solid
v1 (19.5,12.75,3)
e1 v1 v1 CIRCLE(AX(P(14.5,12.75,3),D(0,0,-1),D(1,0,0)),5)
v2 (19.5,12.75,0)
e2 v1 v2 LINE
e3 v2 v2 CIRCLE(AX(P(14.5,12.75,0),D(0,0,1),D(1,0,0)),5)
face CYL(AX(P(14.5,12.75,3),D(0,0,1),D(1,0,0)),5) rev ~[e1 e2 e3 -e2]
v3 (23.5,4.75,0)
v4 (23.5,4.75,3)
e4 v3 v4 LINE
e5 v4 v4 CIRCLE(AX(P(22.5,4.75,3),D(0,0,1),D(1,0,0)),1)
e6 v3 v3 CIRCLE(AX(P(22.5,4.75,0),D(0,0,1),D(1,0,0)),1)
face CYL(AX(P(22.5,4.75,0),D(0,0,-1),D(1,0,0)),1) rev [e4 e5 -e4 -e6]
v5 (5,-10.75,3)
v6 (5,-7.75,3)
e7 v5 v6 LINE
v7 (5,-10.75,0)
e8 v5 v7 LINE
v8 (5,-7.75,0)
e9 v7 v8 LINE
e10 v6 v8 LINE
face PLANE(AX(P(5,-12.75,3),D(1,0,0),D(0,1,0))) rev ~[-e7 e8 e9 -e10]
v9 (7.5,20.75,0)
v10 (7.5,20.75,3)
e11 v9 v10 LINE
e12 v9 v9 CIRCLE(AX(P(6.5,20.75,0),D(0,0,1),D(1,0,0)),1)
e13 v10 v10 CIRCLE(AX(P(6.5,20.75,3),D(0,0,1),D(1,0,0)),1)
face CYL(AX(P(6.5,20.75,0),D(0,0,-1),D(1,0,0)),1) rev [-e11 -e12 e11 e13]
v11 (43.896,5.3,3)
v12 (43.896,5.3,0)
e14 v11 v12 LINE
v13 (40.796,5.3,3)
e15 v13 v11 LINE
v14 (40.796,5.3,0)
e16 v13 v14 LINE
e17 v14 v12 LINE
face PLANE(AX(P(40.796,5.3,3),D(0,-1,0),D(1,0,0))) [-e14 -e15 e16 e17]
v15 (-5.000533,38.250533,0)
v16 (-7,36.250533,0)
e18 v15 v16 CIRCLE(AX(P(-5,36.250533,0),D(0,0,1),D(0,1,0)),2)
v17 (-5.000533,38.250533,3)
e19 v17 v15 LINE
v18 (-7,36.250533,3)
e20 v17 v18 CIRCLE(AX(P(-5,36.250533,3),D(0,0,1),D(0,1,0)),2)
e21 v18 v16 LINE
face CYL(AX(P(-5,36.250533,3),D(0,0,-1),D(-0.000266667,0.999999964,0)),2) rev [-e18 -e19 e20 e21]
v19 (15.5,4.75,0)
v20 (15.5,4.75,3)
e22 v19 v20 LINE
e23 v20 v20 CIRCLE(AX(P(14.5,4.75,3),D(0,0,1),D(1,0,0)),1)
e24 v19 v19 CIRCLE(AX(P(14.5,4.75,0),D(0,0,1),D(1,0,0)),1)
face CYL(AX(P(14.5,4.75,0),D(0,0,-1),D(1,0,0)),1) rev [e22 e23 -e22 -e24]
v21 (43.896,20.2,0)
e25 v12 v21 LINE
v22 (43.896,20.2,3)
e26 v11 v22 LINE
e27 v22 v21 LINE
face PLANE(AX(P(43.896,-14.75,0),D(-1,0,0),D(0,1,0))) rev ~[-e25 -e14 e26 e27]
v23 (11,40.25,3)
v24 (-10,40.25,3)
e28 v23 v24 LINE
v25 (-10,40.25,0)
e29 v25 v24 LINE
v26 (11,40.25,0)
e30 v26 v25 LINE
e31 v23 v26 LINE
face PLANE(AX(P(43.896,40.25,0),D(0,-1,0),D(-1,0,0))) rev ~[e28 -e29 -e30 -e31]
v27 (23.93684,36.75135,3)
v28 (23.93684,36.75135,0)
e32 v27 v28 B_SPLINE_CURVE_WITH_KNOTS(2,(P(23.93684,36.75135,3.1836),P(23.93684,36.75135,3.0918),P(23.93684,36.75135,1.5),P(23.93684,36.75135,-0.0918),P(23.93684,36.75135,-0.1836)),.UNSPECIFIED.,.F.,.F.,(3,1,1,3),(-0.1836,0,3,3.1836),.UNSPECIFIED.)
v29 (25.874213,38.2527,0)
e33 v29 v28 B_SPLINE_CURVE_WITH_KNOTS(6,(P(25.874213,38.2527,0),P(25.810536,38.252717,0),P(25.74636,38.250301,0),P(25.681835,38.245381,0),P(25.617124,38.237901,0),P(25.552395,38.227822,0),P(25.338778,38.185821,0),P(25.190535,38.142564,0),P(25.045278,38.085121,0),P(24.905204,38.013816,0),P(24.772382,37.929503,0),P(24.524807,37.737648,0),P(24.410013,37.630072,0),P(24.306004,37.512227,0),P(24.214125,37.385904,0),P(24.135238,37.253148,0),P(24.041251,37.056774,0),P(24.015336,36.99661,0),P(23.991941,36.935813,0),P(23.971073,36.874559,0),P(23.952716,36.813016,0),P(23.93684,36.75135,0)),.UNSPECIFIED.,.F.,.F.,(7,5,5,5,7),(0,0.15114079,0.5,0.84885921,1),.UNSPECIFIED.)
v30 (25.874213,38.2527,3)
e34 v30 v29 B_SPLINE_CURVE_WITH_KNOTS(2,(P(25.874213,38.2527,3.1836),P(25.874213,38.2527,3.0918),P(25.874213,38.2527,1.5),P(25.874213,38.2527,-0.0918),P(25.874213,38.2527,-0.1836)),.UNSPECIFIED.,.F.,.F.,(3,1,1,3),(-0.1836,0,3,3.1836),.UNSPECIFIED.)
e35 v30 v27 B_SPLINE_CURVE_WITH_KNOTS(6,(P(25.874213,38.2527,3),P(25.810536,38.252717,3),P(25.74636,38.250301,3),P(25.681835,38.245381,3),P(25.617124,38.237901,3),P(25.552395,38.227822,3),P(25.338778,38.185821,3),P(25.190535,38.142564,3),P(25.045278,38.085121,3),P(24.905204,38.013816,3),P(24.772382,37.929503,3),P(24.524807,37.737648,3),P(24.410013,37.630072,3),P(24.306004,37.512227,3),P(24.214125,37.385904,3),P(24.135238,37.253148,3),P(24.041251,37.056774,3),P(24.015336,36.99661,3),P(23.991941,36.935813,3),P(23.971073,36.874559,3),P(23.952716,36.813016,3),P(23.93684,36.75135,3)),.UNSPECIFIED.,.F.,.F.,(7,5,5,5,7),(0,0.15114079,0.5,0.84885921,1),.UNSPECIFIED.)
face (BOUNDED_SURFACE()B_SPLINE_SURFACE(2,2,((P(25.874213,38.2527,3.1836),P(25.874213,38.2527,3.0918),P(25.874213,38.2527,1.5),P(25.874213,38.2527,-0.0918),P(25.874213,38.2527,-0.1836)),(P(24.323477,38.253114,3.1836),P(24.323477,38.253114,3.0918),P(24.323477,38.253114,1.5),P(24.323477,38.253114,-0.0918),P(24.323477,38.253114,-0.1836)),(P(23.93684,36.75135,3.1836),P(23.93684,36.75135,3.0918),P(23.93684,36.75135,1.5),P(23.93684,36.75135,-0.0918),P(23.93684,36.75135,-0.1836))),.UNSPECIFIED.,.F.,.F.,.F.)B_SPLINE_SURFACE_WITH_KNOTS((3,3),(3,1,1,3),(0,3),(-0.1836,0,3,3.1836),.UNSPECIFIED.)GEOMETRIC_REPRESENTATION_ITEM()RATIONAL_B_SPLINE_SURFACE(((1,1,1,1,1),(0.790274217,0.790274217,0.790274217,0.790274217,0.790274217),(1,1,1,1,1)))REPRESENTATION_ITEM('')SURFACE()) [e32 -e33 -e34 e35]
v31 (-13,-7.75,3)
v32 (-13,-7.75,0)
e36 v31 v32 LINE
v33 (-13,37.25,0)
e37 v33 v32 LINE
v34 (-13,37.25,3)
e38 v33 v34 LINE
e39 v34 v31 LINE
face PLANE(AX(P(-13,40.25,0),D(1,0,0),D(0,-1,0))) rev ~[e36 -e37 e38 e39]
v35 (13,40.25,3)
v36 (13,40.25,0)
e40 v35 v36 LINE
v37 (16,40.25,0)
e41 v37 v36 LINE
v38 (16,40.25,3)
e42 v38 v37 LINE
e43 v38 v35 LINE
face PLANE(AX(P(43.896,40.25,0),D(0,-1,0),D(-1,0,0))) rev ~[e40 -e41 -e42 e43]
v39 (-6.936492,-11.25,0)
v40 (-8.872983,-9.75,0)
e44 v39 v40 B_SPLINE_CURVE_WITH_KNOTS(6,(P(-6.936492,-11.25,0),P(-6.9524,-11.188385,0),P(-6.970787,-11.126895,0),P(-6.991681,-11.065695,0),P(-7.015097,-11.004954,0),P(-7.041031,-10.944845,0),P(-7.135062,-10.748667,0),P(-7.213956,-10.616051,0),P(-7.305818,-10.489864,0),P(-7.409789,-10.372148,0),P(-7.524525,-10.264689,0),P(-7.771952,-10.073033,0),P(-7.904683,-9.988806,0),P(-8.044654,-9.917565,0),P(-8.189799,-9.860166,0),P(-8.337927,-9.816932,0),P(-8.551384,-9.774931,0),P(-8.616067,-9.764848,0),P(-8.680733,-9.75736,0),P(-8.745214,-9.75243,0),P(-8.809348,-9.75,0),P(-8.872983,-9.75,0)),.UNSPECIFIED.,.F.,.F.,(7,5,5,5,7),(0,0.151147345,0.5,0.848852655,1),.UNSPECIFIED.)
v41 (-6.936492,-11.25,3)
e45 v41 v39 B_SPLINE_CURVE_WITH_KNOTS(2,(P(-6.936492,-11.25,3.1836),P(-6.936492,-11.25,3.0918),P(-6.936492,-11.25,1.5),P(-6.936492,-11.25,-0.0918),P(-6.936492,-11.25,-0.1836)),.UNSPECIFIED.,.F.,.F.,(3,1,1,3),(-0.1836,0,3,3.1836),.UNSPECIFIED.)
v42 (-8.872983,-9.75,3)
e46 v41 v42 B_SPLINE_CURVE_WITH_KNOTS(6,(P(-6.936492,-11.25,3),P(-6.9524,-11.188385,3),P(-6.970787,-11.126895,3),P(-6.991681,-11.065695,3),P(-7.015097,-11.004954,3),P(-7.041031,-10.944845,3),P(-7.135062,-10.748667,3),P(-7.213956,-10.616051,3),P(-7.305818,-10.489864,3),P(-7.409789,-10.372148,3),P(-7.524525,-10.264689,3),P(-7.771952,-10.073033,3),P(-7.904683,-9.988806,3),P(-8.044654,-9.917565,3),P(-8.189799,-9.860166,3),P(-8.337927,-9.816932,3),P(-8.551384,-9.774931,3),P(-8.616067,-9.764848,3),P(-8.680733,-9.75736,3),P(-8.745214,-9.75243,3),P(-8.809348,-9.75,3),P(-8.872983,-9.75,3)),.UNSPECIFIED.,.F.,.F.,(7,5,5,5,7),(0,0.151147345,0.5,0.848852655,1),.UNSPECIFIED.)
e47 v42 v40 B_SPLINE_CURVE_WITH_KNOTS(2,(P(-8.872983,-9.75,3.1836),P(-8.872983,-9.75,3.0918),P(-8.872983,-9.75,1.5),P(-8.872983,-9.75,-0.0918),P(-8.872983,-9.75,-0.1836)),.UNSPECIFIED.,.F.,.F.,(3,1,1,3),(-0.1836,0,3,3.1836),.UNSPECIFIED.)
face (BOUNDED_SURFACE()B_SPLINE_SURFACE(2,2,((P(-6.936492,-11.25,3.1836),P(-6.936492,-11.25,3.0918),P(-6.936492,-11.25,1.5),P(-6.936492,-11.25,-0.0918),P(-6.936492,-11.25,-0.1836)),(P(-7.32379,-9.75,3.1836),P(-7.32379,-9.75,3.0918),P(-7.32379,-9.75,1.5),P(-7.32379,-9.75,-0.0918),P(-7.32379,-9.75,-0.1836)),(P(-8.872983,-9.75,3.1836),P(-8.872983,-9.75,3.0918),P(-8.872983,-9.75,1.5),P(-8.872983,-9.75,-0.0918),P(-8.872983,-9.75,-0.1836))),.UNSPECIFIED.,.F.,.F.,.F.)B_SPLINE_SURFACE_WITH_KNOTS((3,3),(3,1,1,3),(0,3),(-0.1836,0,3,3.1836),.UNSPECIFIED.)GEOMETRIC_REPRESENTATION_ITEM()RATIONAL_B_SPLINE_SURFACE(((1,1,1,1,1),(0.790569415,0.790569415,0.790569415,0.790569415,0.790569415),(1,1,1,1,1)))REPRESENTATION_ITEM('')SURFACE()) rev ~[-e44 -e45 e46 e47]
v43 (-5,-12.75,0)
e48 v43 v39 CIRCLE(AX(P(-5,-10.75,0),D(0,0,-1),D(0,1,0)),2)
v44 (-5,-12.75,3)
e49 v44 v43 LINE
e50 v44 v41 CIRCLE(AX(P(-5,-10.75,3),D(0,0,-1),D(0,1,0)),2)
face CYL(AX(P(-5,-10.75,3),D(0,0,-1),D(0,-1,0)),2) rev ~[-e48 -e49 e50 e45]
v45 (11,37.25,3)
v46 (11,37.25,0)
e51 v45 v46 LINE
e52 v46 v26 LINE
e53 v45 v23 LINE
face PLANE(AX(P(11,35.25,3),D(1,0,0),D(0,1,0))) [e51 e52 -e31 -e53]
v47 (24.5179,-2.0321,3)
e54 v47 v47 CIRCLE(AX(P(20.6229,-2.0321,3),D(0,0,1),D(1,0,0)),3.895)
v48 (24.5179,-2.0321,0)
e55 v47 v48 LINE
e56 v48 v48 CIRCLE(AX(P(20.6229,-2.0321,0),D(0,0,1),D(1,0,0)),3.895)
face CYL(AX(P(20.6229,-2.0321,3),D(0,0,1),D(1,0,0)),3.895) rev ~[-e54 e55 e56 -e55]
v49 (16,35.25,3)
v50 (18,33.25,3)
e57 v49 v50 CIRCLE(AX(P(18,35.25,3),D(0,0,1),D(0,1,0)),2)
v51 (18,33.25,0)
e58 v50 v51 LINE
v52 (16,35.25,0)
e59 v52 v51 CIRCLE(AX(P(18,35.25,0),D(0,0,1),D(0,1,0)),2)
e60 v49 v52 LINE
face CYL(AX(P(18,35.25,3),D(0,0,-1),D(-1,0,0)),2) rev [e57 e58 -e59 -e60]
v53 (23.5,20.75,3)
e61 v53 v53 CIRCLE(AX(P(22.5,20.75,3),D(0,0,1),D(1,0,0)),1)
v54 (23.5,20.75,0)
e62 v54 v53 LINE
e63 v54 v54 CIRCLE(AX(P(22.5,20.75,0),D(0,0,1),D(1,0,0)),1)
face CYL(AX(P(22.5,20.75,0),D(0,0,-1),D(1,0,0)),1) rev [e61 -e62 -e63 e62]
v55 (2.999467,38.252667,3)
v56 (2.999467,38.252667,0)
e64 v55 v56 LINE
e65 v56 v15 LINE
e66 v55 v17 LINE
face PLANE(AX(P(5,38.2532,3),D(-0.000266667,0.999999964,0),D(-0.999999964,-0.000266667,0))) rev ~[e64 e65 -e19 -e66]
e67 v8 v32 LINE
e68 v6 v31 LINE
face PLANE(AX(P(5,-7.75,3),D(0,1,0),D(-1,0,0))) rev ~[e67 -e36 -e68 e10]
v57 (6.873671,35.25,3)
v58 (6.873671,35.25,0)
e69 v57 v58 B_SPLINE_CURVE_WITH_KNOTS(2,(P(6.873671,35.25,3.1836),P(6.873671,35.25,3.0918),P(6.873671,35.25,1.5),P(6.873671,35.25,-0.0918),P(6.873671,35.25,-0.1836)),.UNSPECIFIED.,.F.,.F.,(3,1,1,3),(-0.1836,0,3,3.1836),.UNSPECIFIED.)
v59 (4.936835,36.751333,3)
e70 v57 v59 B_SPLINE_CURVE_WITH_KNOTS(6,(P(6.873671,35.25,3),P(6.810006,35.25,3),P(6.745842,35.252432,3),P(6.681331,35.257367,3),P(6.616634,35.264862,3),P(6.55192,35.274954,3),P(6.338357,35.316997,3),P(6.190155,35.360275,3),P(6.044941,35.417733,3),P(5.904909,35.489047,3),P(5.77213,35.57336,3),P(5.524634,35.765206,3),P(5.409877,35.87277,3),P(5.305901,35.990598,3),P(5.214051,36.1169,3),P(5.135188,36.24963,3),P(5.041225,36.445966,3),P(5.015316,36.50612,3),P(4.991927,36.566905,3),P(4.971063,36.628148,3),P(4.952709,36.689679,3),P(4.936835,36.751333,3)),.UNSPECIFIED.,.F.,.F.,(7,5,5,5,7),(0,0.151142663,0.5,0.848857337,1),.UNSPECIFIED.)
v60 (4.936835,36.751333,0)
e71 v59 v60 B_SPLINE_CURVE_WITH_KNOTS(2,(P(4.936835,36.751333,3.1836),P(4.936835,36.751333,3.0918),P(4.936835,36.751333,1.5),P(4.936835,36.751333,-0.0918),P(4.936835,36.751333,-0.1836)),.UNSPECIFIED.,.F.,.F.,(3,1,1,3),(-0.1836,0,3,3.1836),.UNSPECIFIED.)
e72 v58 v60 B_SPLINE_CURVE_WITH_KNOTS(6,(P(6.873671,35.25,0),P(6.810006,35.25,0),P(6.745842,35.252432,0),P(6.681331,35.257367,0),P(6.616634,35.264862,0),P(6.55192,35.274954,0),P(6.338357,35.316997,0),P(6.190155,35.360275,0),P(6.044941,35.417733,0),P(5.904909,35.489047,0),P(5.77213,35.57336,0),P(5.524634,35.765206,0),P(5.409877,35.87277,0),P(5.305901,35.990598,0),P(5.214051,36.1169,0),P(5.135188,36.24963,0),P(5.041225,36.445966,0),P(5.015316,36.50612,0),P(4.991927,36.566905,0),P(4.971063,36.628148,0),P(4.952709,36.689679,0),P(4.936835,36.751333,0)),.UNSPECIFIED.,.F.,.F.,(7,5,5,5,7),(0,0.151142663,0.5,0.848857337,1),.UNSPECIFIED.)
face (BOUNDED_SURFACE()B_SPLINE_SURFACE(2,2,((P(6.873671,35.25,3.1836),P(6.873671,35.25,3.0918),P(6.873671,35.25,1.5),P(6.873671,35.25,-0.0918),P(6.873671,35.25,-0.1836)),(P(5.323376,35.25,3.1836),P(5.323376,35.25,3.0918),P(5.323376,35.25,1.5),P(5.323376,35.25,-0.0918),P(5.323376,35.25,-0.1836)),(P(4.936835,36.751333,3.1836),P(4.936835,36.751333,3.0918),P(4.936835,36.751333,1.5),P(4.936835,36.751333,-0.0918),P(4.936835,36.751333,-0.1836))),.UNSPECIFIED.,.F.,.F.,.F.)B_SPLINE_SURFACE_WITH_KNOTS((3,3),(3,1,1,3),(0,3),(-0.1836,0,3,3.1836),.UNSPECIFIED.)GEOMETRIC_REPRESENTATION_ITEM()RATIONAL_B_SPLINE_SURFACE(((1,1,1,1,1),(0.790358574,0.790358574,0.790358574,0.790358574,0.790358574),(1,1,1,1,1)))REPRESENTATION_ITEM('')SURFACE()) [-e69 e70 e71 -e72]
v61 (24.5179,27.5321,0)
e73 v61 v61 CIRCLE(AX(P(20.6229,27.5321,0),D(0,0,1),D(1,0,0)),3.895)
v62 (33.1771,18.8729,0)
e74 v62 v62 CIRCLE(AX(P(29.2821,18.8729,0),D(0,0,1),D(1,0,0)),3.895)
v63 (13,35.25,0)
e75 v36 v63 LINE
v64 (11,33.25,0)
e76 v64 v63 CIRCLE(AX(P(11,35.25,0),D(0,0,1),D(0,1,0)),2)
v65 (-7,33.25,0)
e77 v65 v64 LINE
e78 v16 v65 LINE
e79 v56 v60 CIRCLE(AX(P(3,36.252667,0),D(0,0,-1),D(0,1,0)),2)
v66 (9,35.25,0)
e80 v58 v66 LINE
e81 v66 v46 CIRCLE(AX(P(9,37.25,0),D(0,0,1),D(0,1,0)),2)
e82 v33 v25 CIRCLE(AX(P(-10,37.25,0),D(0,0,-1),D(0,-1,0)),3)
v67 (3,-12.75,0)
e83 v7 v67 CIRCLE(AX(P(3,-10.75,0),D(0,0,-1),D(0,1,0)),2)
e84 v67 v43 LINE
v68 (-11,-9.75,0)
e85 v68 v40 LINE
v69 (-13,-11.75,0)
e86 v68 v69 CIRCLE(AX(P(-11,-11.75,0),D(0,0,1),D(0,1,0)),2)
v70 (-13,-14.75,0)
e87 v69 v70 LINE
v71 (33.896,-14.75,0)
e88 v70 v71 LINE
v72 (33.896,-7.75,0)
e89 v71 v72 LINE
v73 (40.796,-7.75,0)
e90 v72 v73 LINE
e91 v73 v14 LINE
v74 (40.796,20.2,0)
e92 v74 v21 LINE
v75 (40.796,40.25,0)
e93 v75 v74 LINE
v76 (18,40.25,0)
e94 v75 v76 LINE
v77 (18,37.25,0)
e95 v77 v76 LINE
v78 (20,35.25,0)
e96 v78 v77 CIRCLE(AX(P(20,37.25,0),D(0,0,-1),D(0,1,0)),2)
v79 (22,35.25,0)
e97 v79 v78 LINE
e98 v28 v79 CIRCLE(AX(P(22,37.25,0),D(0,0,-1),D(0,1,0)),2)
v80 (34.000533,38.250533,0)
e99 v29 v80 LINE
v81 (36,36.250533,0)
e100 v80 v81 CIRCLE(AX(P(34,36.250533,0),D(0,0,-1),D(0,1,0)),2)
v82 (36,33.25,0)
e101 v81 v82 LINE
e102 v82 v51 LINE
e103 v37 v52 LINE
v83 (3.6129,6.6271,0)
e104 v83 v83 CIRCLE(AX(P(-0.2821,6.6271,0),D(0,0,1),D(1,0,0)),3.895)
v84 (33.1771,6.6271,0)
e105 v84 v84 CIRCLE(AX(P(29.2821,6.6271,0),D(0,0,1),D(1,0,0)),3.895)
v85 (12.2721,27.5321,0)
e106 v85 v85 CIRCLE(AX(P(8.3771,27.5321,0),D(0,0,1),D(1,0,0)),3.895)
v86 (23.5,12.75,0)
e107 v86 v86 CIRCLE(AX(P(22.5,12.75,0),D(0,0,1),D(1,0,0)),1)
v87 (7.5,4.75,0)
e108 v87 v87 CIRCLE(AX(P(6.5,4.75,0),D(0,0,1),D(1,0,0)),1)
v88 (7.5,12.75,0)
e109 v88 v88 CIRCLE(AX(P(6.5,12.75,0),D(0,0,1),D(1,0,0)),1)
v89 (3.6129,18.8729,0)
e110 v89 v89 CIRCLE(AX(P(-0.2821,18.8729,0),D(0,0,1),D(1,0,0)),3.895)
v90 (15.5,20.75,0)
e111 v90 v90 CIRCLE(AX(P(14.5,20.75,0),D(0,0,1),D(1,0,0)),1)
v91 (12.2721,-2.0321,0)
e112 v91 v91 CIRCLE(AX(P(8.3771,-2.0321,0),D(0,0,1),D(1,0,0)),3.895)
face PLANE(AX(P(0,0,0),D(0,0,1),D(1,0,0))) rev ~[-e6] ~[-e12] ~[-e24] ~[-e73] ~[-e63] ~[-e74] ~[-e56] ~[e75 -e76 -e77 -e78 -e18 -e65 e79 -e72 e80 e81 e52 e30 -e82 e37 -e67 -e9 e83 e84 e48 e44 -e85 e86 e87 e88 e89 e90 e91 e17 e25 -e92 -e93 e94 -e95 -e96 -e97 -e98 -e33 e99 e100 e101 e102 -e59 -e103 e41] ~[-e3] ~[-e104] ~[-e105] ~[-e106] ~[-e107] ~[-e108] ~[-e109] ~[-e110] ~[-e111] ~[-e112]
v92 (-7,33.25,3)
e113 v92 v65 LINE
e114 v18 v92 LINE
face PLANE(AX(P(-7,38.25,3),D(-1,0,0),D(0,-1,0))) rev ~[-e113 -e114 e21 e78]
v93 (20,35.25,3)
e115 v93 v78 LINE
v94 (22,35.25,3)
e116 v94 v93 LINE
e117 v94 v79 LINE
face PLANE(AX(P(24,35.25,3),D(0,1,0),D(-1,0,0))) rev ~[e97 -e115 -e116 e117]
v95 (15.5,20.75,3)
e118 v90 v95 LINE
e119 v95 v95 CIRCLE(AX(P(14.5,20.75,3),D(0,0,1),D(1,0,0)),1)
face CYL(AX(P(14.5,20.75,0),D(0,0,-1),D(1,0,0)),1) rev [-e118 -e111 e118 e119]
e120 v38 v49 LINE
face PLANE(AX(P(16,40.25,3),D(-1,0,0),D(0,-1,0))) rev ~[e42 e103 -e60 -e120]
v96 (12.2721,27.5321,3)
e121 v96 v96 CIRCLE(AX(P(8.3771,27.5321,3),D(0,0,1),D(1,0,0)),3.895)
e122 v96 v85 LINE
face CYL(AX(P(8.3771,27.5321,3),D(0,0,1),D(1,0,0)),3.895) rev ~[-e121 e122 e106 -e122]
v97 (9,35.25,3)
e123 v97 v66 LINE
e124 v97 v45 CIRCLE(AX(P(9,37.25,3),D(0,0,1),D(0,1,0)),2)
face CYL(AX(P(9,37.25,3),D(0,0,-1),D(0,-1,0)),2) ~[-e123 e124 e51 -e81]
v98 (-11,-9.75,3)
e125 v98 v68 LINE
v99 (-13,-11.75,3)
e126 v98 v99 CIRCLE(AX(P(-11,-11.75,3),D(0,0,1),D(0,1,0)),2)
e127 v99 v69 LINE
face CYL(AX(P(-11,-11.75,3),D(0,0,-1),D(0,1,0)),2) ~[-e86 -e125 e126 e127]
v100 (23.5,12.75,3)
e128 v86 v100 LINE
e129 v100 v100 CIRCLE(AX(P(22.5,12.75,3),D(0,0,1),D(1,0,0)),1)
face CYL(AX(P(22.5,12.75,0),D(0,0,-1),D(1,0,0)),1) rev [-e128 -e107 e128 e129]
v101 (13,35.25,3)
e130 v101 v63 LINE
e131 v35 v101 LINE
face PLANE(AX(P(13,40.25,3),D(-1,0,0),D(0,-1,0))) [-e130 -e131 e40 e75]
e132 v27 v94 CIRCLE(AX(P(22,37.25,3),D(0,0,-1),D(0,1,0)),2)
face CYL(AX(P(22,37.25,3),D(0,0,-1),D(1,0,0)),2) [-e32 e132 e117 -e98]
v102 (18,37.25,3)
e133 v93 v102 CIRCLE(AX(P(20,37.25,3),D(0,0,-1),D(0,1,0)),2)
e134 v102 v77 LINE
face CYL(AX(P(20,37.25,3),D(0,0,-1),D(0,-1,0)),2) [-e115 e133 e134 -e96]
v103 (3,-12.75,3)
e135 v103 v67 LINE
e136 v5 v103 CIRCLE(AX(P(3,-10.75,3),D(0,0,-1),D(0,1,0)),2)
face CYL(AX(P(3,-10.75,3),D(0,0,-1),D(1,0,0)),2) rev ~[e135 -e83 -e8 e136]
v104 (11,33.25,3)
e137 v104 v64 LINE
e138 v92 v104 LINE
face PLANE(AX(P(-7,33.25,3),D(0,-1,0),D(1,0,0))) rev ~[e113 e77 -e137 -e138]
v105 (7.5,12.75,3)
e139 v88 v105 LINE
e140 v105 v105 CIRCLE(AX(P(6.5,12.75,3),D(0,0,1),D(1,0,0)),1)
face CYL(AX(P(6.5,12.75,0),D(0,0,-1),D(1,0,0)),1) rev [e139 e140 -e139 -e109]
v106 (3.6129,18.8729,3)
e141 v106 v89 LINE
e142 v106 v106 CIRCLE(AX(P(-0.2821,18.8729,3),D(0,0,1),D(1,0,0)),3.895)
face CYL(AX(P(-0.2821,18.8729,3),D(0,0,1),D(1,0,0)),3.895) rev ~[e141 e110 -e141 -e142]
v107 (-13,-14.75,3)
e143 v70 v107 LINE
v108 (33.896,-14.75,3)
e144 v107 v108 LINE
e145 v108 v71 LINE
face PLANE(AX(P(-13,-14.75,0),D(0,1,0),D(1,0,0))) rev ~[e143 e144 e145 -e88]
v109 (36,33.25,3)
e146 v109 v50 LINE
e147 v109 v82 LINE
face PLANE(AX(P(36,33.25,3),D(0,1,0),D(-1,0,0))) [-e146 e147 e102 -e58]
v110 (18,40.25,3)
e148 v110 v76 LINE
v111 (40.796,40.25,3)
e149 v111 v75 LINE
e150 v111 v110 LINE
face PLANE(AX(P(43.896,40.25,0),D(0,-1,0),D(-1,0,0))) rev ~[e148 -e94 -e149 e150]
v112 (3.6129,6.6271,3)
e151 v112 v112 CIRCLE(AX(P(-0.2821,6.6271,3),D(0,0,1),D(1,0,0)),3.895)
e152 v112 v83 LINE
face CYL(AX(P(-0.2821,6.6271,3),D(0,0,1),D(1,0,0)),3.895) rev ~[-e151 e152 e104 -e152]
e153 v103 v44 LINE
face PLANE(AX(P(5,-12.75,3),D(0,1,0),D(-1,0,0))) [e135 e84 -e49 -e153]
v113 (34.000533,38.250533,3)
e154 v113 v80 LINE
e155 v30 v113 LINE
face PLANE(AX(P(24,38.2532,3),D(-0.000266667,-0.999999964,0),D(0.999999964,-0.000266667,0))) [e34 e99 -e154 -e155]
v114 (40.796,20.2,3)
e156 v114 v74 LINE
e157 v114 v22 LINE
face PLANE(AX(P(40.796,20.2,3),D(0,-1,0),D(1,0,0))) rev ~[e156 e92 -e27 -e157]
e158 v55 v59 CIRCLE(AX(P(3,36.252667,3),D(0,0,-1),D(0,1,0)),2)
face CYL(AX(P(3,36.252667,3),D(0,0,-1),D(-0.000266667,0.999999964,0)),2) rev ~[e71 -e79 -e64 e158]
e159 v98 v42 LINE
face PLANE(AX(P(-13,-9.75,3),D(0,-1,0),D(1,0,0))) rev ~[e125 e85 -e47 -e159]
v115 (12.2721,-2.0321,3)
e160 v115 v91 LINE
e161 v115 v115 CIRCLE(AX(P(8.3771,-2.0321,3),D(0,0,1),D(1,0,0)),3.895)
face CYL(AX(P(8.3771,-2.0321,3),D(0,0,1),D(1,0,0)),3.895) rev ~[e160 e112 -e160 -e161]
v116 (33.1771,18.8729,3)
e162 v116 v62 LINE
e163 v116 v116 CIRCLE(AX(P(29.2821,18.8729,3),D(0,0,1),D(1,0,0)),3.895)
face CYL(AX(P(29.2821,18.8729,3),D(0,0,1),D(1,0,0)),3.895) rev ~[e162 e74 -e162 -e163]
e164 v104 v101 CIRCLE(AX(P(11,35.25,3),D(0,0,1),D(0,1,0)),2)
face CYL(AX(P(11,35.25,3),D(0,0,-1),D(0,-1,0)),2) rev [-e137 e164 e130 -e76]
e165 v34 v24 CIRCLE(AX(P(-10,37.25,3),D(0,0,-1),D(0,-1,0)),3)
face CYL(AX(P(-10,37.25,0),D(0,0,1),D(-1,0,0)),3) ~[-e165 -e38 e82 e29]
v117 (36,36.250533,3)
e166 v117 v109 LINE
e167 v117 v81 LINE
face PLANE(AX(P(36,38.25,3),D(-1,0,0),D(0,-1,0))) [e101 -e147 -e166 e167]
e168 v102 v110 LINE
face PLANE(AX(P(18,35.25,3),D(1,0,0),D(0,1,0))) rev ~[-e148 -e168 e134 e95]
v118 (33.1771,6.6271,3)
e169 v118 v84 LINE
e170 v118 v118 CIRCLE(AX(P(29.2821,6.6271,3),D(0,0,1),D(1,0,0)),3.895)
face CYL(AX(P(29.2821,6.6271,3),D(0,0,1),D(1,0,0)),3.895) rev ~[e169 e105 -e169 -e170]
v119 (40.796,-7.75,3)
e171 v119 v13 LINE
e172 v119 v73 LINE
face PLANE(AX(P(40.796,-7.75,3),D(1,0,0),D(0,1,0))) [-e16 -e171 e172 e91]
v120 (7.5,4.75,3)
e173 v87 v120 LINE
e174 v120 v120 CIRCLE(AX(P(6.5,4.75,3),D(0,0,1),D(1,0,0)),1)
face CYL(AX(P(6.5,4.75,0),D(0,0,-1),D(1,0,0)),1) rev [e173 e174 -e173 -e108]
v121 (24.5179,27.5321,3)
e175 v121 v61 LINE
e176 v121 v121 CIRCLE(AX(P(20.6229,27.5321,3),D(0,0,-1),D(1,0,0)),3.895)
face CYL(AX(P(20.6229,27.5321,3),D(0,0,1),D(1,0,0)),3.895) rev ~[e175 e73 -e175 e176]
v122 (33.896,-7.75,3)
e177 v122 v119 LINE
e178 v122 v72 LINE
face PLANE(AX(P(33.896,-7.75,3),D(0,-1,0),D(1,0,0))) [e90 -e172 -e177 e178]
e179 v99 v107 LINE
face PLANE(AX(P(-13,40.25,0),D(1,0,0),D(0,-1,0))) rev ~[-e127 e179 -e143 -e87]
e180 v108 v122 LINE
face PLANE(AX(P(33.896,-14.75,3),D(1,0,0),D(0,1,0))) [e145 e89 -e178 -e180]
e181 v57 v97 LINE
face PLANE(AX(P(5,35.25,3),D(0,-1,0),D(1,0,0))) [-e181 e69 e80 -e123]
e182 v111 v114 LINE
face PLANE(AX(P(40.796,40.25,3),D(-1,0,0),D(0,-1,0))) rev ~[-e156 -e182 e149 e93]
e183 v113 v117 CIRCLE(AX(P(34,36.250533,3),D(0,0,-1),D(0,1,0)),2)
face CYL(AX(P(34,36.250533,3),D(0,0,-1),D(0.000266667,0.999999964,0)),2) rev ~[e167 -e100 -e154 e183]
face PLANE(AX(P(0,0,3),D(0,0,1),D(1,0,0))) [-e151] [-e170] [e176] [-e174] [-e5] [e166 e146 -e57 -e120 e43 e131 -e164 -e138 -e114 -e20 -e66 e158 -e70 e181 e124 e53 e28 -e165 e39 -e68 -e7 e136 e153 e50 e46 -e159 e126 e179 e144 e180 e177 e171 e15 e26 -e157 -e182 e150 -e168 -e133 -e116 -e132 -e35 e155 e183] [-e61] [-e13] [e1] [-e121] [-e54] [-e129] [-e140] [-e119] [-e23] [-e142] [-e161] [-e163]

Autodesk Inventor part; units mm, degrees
ref_plane "YZ Plane" through (0, 0, 0) normal (1, 0, 0) x (0, 1, 0)
ref_plane "XZ Plane" through (0, 0, 0) normal (0, 1, 0) x (-1, 0, 0)
ref_plane "XY Plane" through (0, 0, 0) normal (0, 0, 1) x (1, 0, 0)
ref_plane "Work Plane1" through (0, 0, 0) normal (0, 0, 1) x (1, 0, 0)
sketch "Sketch1" plane through (0, 0, 0) normal (0, 0, 1) x (1, 0, 0)
  circle A0 centre (6.5, 20.75) radius 1
  circle A1 centre (6.5, 4.75) radius 1
  circle A2 centre (22.5, 20.75) radius 1
  circle A3 centre (22.5, 4.75) radius 1
  line L0 (-13, -14.75) -> (43.896, -14.75)
  line L1 (43.896, -14.75) -> (43.896, 40.25)
  line L2 (43.896, 40.25) -> (-13, 40.25)
  line L3 (-13, 40.25) -> (-13, -14.75)
  circle A4 centre (22.5, 12.75) radius 1 projected
  circle A5 centre (14.5, 20.75) radius 1 projected
  circle A6 centre (14.5, 4.75) radius 1 projected
  circle A7 centre (6.5, 12.75) radius 1 projected
  point P0 (0, 0)
  point P1 (14.5, 12.75)
  dimension "d1" = 55
  dimension "d102" = 29.396
  dimension "d103" = 27.5
  dimension "d107" = 2
  dimension "d108" = 2
  dimension "d109" = 2
  dimension "d110" = 2
extrude "Extrusion3" add sketch "Sketch1" along normal blind 3
sketch "Sketch4" plane through (0, 0, 3) normal (0, 0, 1) x (1, 0, 0)
  line L0 (42, 40.25) -> (-13, 40.25) construction
  line L1 (14.5, 40.25) -> (14.5, 12.75) construction
  line L2 (-13, 12.75) -> (14.5, 12.75) construction
  line L3 (42, 40.25) -> (-13, 40.25)
  line L4 (5, 38.2532) -> (-7, 38.25)
  line L5 (13, 40.25) -> (-7, 40.25)
  line L6 (-7, 38.25) -> (-7, 33.25)
  line L7 (-7, 33.25) -> (13, 33.25)
  line L8 (13, 40.25) -> (13, 33.25)
  line L9 (5, -7.75) -> (-13, -7.75)
  circle A0 centre (14.5, 12.75) radius 5
  line L10 (14.5, 12.75) -> (20.6229, 27.5321)
  line L11 (14.5, 12.75) -> (30.5, 12.75) construction
  circle A1 centre (20.6229, 27.5321) radius 3.895
  circle A2 centre (8.3771, 27.5321) radius 3.895
  circle A3 centre (-0.2821, 18.8729) radius 3.895
  circle A4 centre (-0.2821, 6.6271) radius 3.895
  circle A5 centre (8.3771, -2.0321) radius 3.895
  circle A6 centre (20.6229, -2.0321) radius 3.895
  circle A7 centre (29.2821, 6.6271) radius 3.895
  circle A8 centre (29.2821, 18.8729) radius 3.895
  line L12 (5, -12.75) -> (5, -7.75)
  line L13 (5, -12.75) -> (-7, -12.75)
  line L14 (-13, -7.75) -> (-13, -9.75)
  line L15 (-13, 40.25) -> (-13, -14.75) projected
  line L16 (-13, -9.75) -> (-7, -9.75)
  line L17 (-7, -9.75) -> (-7, -12.75)
  line L18 (-13, -14.75) -> (43.896, -14.75) projected
  line L19 (5, 38.2532) -> (5, 35.25)
  line L20 (5, 35.25) -> (11, 35.25)
  line L21 (11, 35.25) -> (11, 40.25)
  line L22 (24, 38.2532) -> (36, 38.25)
  line L23 (16, 40.25) -> (36, 40.25)
  line L24 (36, 38.25) -> (36, 33.25)
  line L25 (36, 33.25) -> (16, 33.25)
  line L26 (16, 40.25) -> (16, 33.25)
  line L27 (24, 38.2532) -> (24, 35.25)
  line L28 (24, 35.25) -> (18, 35.25)
  line L29 (18, 35.25) -> (18, 40.25)
  point P0 (0, 0)
  dimension "d66" = 20
  dimension "d105" = 10
  dimension "d111" = 16
  dimension "d112" = 67.5
  dimension "d113" = 7.79
  dimension "d116" = 360
  dimension "d119" = 12
  dimension "d120" = 2
  dimension "d121" = 5
  dimension "d122" = 2
  dimension "d123" = 18
  dimension "d124" = 2
  dimension "d125" = 5
  dimension "d126" = 2
  dimension "d127" = 2
  dimension "d128" = 6
  dimension "d129" = 12
  dimension "d130" = 6
extrude "Extrusion2" cut sketch "Sketch4" against normal through all
fillet "Fillet3" radius 2 14 edges at (-7, 38.25, 1.5) (5, 38.2532, 1.5) (13, 33.25, 1.5) (5, -12.75, 1.5) (-7, -12.75, 1.5) (-7, -9.75, 1.5) (-13, -9.75, 1.5) (5, 35.25, 1.5) (11, 35.25, 1.5) (16, 33.25, 1.5) (24, 35.25, 1.5) (18, 35.25, 1.5) (36, 38.25, 1.5) (24, 38.2532, 1.5)
sketch "Sketch6" plane through (0, 0, 3) normal (0, 0, 1) x (1, 0, 0)
  line L0 (43.896, 40.25) -> (-13, 40.25) projected
  line L1 (43.896, 40.25) -> (40.796, 40.25)
  line L2 (40.796, 40.25) -> (40.796, 20.2)
  line L3 (40.796, 20.2) -> (43.896, 20.2)
  line L4 (43.896, 20.2) -> (43.896, 40.25)
  line L5 (43.896, -14.75) -> (43.896, 40.25) construction
  line L6 (43.896, 12.75) -> (-13, 12.75) construction
  line L7 (-13, 40.25) -> (-13, -14.75) construction
  line L8 (43.896, -14.75) -> (40.796, -14.75)
  line L9 (40.796, -7.75) -> (40.796, 5.3)
  line L10 (40.796, 5.3) -> (43.896, 5.3)
  line L11 (43.896, 5.3) -> (43.896, -14.75)
  line L12 (43.896, -14.75) -> (33.896, -14.75)
  line L13 (33.896, -14.75) -> (33.896, -7.75)
  line L14 (33.896, -7.75) -> (40.796, -7.75)
  line L15 (43.896, -7.75) -> (43.896, -14.75)
  point P0 (0, 0)
  point P1 (36.3284, 40.25)
  point P2 (-13, -7.75)
  dimension "d96" = 3.1
  dimension "d97" = 20.05
  dimension "d100" = 10
  dimension "d101" = 7
extrude "Extrusion4" cut sketch "Sketch6" against normal through all
fillet "Fillet4" radius 3 1 edges at (-13, 40.25, 1.5)
equation "\"d38\" = d24"
equation "\"d24\" = 7.79"
properties part number "SideRotated"
